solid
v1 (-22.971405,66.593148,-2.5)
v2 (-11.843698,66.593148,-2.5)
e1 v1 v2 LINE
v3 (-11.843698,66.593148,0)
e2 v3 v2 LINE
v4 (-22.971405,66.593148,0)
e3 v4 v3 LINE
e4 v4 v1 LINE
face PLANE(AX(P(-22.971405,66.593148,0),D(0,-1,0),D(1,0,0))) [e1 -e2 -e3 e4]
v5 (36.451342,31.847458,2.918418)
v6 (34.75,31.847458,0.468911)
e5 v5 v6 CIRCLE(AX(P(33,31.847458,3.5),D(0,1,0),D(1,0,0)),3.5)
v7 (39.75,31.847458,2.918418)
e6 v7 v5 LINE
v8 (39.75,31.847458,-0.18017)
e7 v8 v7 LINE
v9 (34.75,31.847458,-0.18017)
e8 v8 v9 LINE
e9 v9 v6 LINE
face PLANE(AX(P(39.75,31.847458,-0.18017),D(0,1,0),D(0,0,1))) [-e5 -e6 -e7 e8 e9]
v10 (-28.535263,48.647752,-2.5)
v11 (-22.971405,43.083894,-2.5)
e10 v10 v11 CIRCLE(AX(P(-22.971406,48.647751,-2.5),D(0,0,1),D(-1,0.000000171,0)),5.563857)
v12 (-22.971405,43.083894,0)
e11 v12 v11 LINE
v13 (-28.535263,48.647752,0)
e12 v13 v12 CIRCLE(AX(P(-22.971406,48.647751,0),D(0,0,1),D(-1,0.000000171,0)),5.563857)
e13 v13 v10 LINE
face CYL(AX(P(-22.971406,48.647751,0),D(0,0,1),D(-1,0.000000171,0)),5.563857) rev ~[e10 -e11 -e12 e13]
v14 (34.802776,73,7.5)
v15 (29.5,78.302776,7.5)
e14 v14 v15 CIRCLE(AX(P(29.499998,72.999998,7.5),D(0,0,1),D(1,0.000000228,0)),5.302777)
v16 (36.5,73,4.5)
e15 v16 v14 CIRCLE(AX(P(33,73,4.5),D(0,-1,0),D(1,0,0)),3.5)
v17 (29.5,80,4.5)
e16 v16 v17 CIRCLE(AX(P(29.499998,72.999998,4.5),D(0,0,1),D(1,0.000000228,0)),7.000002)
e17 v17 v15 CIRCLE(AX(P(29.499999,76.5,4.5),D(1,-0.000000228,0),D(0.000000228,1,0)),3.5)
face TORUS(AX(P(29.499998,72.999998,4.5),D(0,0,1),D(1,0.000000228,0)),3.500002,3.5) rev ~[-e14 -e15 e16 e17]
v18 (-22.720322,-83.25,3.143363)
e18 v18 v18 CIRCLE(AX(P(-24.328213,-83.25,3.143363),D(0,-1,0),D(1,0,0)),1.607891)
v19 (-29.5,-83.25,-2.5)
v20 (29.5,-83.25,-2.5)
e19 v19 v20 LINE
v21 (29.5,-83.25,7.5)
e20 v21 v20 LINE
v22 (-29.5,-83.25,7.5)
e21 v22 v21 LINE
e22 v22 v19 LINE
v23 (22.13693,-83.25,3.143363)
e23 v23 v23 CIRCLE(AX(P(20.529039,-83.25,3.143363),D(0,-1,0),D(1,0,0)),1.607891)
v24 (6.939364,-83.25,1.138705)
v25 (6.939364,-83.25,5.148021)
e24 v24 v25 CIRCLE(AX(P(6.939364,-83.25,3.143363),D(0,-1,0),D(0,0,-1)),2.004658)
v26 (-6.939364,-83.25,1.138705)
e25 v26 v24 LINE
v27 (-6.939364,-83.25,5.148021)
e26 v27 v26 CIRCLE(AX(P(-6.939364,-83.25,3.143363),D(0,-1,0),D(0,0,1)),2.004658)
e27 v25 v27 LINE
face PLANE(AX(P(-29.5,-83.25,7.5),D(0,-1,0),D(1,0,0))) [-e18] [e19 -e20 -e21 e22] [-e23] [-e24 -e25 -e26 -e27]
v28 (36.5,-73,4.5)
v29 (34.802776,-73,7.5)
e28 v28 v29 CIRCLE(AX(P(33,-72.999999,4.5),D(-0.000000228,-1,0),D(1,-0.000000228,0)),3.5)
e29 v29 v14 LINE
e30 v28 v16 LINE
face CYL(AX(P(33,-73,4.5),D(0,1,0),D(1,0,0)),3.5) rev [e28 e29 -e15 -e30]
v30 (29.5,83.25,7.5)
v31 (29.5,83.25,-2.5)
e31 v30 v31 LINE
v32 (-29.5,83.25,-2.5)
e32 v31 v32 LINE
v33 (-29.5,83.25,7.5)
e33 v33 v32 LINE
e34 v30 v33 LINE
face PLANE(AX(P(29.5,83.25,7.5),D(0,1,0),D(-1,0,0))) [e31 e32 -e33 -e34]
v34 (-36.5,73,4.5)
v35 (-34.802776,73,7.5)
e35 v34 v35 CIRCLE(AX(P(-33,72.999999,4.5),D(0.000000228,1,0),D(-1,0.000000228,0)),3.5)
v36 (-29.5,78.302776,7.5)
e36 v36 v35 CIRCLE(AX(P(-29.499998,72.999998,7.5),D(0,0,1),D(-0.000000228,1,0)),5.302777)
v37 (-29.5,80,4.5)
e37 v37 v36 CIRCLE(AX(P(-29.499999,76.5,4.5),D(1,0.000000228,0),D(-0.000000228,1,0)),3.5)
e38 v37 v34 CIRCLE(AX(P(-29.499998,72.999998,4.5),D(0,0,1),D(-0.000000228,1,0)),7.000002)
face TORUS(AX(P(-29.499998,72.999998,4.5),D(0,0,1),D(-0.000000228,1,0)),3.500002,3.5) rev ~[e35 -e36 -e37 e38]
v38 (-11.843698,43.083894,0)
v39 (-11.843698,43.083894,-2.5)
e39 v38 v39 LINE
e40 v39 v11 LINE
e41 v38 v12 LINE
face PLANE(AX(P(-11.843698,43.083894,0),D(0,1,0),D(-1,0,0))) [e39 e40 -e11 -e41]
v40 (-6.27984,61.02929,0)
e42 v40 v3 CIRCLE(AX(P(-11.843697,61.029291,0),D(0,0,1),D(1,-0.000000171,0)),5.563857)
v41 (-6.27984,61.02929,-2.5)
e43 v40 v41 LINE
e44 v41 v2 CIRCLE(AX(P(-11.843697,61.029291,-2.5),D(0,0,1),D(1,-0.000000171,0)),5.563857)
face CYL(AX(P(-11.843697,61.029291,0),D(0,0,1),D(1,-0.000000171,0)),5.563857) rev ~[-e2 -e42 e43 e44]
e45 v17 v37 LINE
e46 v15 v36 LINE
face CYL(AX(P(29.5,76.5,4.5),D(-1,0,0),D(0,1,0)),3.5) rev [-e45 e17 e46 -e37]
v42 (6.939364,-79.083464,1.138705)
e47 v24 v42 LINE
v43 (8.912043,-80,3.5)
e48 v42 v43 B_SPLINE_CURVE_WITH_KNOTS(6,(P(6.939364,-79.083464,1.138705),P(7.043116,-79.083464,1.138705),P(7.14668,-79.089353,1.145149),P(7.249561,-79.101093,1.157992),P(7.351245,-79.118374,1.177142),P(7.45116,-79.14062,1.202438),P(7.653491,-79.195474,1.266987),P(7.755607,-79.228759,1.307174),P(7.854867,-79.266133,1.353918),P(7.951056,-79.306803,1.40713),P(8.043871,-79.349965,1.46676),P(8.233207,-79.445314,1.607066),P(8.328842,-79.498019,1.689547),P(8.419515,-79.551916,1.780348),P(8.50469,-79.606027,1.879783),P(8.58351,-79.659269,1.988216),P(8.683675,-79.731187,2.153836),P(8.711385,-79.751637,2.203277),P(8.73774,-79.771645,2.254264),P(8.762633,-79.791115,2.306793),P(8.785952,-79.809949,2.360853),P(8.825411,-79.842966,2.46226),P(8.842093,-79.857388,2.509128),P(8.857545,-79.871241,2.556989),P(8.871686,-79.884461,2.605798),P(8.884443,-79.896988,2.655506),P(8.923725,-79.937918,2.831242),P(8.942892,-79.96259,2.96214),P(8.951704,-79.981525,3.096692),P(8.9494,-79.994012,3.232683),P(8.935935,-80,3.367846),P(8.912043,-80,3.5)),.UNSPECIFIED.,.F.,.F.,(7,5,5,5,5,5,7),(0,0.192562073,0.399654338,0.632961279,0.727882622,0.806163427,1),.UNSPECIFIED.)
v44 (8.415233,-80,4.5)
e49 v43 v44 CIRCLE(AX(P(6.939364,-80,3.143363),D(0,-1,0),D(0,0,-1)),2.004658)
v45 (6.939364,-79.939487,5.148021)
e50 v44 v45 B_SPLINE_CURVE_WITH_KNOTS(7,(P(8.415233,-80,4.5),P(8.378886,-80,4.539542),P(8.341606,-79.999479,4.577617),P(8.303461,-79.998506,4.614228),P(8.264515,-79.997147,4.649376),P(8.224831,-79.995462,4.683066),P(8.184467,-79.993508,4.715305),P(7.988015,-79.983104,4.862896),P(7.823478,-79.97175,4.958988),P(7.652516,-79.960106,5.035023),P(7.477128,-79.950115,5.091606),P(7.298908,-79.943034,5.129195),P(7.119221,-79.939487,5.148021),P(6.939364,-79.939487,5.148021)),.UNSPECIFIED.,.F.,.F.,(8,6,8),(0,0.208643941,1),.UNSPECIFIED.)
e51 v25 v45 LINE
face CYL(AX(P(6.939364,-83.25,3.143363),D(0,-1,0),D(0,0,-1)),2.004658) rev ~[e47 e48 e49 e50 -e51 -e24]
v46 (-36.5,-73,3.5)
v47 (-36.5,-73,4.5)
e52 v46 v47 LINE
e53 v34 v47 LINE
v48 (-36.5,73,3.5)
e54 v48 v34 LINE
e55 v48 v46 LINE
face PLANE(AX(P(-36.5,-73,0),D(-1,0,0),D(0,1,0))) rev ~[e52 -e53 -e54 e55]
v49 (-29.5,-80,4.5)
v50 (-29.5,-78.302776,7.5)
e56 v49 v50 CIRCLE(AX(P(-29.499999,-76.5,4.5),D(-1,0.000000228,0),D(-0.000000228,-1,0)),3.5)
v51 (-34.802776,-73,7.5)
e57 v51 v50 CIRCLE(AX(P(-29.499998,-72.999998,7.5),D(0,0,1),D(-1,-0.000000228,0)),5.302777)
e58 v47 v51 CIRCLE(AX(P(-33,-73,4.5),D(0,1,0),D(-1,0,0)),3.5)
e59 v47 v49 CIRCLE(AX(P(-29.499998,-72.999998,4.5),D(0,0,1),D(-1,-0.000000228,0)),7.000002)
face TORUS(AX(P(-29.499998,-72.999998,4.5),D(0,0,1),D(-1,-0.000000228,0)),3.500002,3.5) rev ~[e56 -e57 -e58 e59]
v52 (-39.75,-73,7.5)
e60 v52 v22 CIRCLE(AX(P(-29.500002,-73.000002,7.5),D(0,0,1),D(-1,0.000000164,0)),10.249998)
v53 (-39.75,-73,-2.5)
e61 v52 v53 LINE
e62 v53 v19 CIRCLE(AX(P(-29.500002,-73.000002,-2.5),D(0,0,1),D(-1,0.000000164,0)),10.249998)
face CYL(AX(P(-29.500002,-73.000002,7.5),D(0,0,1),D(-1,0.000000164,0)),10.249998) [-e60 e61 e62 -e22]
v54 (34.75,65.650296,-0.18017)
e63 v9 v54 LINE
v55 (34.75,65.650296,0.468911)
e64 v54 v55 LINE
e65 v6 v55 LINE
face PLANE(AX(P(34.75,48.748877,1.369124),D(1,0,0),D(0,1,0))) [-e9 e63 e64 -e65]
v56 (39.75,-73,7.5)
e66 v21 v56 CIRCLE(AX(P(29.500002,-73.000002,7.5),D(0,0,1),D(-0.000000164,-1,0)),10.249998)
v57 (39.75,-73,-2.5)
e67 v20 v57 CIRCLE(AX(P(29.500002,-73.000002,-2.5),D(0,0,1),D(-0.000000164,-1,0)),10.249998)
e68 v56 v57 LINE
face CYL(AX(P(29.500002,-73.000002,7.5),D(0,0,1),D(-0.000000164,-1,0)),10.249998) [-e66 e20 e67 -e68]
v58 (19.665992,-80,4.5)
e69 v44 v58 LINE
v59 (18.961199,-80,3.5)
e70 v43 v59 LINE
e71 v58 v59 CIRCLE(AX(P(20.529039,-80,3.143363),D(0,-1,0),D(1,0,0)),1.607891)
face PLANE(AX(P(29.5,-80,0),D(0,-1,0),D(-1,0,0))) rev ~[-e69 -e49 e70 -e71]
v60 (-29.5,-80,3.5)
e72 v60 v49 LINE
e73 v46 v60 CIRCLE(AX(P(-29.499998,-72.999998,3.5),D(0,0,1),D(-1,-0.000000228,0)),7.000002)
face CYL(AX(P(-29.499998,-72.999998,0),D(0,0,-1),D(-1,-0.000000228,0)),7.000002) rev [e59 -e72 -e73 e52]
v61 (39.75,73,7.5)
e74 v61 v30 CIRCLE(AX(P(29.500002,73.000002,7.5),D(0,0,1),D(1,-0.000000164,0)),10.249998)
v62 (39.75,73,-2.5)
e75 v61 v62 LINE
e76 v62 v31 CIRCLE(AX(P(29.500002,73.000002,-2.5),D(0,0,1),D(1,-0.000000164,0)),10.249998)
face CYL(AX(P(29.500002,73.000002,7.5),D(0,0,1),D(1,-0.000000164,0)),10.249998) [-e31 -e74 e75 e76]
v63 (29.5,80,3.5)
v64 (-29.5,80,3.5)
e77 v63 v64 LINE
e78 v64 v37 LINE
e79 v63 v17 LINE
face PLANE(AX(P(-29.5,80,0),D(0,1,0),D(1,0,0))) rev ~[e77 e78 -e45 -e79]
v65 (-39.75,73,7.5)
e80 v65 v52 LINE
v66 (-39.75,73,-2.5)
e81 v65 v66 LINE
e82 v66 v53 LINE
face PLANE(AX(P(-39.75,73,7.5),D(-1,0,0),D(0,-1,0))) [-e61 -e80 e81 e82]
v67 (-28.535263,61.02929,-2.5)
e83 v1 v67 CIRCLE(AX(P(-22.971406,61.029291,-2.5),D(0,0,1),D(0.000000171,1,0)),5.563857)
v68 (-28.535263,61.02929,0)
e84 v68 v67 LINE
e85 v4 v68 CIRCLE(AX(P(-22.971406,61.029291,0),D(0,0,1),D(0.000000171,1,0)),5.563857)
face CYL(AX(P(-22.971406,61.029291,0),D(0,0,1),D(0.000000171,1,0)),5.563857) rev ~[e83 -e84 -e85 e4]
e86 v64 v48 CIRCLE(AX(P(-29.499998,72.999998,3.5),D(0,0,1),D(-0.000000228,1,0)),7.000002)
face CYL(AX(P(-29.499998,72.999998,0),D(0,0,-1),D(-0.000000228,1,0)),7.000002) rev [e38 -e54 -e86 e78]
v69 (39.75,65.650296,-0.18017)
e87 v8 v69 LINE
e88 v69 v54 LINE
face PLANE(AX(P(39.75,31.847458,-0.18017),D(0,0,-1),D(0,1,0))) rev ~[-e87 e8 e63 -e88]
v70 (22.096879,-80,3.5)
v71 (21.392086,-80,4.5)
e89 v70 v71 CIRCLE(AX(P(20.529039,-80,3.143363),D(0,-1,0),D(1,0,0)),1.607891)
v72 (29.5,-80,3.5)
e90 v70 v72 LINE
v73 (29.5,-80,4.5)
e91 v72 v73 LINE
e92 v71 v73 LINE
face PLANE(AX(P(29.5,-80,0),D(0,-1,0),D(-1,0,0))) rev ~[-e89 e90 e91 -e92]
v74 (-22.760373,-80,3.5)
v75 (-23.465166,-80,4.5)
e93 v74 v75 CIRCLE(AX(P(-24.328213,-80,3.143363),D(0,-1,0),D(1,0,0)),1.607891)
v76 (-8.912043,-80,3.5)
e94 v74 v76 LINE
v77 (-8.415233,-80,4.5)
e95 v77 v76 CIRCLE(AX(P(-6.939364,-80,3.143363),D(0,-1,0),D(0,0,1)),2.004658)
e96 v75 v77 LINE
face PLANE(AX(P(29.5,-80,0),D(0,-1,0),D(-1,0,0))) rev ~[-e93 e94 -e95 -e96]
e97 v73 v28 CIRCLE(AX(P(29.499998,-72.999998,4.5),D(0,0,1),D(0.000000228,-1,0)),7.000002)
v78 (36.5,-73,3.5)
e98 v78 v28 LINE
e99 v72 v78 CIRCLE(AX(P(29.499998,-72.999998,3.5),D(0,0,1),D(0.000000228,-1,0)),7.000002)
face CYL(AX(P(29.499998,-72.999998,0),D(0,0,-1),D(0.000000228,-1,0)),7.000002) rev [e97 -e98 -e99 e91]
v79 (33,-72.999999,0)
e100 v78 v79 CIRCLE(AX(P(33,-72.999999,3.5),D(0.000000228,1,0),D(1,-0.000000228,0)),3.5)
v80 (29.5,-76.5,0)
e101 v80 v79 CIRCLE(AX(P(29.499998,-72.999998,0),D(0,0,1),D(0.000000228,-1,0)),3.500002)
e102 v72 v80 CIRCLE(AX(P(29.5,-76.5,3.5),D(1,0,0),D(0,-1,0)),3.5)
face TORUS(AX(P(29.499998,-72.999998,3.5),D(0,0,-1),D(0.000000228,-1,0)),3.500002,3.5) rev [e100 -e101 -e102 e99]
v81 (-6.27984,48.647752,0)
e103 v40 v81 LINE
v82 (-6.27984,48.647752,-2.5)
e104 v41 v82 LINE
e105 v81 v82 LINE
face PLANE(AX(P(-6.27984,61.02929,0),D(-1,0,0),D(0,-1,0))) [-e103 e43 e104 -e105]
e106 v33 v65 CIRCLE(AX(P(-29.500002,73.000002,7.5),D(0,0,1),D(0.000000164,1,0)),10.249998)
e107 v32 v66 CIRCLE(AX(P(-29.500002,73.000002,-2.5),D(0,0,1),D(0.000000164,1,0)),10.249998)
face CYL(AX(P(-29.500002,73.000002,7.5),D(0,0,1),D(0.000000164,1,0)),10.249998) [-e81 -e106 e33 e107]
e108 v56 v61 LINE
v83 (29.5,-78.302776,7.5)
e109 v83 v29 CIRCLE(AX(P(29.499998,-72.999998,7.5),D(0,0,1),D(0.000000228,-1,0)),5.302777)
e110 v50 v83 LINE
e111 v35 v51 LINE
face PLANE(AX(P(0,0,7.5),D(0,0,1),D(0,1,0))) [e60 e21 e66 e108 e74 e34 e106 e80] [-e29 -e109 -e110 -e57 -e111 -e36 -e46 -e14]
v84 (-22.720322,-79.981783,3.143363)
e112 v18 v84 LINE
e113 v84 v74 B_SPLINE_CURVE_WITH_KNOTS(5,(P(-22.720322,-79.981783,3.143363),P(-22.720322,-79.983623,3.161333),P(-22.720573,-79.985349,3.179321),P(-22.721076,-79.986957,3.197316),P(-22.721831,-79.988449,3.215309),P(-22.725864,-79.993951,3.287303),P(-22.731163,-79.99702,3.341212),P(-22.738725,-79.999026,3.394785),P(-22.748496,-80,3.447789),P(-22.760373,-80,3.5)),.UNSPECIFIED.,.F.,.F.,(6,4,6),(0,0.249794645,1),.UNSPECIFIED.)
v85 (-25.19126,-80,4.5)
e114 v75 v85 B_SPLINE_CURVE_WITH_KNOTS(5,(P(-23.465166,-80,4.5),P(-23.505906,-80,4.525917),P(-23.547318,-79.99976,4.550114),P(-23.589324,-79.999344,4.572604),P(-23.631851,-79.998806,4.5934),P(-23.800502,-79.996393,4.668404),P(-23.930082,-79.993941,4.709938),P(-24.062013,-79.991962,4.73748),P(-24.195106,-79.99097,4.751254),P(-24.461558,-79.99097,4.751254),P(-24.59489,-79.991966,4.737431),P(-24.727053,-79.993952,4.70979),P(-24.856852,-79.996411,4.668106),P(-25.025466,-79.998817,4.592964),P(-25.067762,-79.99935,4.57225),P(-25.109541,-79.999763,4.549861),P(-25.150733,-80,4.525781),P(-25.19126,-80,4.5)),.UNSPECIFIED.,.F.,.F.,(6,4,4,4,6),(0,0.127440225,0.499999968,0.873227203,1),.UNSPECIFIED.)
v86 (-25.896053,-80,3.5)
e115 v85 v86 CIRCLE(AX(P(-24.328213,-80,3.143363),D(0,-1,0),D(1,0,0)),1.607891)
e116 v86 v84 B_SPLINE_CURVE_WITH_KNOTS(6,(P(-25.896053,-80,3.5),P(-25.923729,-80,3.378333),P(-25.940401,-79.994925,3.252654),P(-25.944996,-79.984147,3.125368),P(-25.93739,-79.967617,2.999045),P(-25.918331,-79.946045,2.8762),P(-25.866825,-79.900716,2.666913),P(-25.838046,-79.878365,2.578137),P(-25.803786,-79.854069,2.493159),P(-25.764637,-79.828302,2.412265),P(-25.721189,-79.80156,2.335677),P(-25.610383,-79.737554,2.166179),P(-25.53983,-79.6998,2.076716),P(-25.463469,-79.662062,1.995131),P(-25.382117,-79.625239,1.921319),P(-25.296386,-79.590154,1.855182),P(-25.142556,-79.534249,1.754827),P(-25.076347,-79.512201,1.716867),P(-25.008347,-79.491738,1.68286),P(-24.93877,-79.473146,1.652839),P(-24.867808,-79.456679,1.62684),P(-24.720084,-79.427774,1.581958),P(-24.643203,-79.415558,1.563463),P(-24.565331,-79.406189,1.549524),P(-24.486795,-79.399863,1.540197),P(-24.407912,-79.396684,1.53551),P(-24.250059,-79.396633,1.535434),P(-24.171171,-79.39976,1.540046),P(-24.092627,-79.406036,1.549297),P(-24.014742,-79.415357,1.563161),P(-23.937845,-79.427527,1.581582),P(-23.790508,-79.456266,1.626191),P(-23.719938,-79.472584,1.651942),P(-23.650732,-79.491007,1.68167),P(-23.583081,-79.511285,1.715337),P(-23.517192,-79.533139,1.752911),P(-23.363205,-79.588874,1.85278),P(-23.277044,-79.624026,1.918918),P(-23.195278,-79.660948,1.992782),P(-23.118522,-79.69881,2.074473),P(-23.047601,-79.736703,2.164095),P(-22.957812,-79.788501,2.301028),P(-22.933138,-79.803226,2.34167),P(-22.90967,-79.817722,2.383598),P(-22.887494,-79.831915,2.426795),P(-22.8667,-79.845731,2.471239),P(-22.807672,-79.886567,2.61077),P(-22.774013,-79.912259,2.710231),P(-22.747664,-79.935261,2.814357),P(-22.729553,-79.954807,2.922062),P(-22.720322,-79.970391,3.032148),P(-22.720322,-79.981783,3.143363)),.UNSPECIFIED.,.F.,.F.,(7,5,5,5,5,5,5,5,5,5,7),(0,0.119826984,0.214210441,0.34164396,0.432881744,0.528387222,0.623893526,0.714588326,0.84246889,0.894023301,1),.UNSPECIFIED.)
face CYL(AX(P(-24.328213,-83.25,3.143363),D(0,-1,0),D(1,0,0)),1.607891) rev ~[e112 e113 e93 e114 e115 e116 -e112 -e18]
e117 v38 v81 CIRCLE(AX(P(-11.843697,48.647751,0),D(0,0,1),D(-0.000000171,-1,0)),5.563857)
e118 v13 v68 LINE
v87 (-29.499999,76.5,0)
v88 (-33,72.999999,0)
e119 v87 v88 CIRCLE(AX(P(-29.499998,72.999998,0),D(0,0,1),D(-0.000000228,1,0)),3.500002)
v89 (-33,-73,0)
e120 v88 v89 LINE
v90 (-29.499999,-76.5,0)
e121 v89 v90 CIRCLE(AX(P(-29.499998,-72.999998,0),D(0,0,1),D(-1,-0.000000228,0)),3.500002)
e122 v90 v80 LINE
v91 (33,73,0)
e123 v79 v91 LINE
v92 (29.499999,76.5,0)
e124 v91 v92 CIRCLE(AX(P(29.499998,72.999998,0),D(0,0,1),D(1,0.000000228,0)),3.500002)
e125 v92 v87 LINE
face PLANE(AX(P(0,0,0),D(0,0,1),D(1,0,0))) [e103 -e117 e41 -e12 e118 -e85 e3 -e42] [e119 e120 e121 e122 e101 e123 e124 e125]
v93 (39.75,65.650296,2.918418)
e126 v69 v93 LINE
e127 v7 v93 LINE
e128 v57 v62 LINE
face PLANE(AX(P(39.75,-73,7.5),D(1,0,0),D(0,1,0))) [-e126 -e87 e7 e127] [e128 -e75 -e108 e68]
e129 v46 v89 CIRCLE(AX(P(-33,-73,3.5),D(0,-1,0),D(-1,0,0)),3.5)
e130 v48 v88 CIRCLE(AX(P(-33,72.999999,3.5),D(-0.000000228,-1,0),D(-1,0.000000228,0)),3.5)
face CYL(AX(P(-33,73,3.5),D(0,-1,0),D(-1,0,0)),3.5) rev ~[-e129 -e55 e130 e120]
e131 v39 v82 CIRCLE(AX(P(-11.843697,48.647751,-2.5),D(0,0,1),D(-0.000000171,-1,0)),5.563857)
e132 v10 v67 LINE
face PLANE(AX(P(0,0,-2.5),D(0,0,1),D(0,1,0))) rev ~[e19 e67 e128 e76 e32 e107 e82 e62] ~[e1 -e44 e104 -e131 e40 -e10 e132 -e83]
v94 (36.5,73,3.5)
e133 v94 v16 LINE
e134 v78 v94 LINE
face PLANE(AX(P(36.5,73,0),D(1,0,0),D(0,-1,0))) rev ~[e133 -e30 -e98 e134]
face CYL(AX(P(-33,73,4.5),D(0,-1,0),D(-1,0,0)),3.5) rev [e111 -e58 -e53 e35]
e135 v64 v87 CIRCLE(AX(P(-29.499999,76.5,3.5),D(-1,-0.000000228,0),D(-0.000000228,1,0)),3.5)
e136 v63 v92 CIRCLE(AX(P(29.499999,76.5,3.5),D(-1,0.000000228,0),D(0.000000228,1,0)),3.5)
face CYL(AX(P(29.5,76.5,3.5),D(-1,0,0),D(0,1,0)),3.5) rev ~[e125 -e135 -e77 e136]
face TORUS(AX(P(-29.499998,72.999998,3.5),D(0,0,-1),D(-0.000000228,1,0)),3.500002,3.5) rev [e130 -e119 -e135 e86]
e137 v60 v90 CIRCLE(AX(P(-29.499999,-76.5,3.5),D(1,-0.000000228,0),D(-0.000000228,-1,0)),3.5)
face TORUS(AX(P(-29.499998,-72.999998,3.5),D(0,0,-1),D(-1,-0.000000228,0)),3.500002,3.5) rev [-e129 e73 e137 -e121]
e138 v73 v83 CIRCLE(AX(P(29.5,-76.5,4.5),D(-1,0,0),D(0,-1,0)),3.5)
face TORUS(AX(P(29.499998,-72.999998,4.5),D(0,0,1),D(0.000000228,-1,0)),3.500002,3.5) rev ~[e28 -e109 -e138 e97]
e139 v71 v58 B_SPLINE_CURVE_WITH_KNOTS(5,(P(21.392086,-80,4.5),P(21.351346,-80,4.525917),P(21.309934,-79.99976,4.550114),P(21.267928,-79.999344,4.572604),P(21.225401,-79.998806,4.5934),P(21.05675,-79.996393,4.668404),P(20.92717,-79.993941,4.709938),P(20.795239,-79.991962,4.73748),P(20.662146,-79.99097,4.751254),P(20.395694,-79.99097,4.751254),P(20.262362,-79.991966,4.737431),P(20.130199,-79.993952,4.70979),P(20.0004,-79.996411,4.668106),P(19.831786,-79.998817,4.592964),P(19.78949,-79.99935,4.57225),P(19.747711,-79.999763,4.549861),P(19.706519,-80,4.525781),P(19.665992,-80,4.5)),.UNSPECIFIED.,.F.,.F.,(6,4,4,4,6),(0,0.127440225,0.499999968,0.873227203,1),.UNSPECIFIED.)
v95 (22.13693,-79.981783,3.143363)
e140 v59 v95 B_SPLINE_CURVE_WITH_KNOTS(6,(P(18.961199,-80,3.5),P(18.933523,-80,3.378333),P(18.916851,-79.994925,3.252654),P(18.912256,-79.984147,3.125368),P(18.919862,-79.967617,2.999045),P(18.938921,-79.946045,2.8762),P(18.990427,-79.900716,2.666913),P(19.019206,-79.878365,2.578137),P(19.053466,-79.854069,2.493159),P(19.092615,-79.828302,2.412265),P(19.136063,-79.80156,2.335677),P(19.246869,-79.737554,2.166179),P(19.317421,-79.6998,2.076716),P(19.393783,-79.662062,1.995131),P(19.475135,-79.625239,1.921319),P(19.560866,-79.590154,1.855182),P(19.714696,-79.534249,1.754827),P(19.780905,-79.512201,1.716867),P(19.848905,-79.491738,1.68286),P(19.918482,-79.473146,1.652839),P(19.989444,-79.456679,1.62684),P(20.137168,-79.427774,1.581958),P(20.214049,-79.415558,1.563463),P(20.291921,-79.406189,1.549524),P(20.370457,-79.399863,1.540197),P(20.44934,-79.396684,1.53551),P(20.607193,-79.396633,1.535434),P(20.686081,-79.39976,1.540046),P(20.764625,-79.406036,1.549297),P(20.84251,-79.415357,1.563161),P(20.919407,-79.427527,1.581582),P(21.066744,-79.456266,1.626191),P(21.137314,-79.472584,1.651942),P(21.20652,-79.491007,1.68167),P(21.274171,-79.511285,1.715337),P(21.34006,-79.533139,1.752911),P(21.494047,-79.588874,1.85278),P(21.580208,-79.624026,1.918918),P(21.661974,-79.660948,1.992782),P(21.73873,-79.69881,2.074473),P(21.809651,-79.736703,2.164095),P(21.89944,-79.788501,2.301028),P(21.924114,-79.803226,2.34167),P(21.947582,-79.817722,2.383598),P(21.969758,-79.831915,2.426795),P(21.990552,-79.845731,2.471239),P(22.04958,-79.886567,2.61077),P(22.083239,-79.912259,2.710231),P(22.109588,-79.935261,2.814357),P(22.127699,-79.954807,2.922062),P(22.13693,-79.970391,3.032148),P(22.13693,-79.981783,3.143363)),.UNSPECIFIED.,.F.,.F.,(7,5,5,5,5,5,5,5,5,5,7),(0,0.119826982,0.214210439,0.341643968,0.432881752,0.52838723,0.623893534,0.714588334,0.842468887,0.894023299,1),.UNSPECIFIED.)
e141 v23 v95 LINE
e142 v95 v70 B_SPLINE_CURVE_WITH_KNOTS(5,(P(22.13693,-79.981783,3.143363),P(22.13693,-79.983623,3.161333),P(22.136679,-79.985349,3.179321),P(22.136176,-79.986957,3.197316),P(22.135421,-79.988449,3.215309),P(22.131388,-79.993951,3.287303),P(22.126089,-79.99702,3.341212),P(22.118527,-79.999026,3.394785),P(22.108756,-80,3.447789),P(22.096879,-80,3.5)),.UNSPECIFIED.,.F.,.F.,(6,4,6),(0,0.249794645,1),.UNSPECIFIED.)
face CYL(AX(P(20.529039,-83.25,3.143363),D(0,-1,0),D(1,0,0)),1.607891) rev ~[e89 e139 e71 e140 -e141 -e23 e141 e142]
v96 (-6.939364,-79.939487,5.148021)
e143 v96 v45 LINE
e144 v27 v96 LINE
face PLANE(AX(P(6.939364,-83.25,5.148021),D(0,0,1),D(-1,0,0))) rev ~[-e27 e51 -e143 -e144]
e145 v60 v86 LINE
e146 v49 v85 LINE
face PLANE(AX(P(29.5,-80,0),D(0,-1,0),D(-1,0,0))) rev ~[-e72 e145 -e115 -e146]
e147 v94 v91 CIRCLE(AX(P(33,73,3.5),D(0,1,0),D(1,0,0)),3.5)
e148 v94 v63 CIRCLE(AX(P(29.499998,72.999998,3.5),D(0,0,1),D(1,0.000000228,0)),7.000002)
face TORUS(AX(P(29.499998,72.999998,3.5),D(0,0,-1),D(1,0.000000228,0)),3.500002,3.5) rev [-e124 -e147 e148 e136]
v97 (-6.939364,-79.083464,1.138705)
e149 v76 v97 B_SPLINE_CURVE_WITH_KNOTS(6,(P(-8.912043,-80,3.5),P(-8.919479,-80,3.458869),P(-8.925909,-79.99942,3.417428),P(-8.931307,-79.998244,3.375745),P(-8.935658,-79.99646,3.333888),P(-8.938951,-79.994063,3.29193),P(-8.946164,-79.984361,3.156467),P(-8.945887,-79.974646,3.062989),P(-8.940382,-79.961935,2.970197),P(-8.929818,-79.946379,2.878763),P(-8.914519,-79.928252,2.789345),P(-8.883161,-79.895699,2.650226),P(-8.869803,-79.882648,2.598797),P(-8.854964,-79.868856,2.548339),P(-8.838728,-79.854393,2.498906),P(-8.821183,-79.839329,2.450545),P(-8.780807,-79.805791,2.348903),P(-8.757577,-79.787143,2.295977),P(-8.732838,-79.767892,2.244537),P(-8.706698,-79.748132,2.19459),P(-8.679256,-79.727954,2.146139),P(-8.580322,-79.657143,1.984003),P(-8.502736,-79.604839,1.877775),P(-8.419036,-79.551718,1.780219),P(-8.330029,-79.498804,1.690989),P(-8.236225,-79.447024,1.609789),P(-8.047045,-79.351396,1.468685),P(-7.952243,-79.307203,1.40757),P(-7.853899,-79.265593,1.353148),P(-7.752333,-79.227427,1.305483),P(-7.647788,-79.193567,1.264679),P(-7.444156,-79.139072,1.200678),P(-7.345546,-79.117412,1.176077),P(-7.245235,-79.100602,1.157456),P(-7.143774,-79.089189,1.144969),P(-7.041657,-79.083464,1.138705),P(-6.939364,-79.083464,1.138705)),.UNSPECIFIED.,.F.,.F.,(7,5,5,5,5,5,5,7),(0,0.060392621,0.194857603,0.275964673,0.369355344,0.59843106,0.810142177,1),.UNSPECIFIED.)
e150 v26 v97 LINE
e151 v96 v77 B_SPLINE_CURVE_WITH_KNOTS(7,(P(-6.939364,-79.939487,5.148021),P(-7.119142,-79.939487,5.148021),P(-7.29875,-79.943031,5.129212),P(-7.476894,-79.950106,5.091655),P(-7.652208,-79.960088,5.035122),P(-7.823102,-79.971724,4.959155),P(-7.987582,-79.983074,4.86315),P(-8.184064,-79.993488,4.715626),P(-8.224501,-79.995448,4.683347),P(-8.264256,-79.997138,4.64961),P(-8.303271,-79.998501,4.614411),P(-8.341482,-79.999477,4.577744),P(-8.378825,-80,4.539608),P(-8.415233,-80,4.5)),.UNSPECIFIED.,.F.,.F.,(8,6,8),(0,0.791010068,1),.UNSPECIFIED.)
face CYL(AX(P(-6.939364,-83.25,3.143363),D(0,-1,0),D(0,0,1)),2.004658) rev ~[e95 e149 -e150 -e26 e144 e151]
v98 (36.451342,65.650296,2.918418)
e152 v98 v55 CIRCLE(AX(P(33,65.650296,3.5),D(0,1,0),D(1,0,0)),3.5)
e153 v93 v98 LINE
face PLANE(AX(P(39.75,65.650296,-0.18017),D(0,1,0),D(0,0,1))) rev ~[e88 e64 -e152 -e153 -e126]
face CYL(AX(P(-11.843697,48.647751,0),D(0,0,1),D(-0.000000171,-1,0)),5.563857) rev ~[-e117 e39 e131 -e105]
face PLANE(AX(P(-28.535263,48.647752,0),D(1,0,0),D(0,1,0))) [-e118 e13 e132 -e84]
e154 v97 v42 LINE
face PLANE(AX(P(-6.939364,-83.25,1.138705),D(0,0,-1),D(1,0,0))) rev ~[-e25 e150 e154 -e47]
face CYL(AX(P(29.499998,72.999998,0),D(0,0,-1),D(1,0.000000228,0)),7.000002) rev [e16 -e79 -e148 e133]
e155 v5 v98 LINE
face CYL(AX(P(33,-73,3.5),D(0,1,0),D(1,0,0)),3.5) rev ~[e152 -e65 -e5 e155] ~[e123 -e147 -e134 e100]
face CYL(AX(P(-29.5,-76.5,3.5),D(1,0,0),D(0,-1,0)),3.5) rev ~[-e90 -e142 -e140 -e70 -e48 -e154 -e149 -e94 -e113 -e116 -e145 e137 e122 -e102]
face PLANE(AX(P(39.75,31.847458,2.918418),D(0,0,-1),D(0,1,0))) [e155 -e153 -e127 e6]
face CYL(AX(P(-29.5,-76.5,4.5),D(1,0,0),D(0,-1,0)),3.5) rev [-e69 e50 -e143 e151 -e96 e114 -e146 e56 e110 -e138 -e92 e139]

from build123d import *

# Parameters (mm, degrees)
PAD_DEPTH       = 8
FILLET_R        = 3.5
PAD001_DEPTH    = 2.5
PAD002_DEPTH    = 10
SKETCH002_R     = 1.607891
POCKET_DEPTH    = 5
POCKET001_DEPTH = 2.501
SKETCH004_W     = 33.802838
SKETCH004_H     = 3.098588
POCKET002_DEPTH = 5


with BuildPart() as blankbody:
    # Sketch → Pad (new body)
    with BuildSketch(Plane.XY):
        with BuildLine():
            ThreePointArc((-29.5, 80), (-34.449747, 77.949747), (-36.5, 73))
            Line((-36.5, -73), (-36.5, 73))
            ThreePointArc((-36.5, -73), (-34.449747, -77.949747), (-29.5, -80))
            Line((29.5, -80), (-29.5, -80))
            ThreePointArc((29.5, -80), (34.449747, -77.949747), (36.5, -73))
            Line((36.5, 73), (36.5, -73))
            ThreePointArc((36.5, 73), (34.449747, 77.949747), (29.5, 80))
            Line((-29.5, 80), (29.5, 80))
        make_face()
    extrude(amount=PAD_DEPTH)

    # Fillet
    fillet_edges = [blankbody.edges().sort_by_distance(p)[0] for p in [
        (-34.449747, 77.949747, 8),
        (-36.5, 0, 8),
        (-34.449747, -77.949747, 8),
        (0, -80, 8),
        (34.449747, -77.949747, 8),
        (36.5, 0, 8),
        (34.449747, 77.949747, 8),
        (0, 80, 8),
        (-34.449747, 77.949747, 0),
        (-36.5, 0, 0),
        (-34.449747, -77.949747, 0),
        (0, -80, 0),
        (34.449747, -77.949747, 0),
        (36.5, 0, 0),
        (34.449747, 77.949747, 0),
        (0, 80, 0),
    ]]
    fillet(fillet_edges, radius=FILLET_R)

    # Sketch001 (on Face11 of Fillet) → Pad001 (join, symmetric)
    with BuildSketch(Plane.XY.offset(8)):
        with BuildLine():
            ThreePointArc((-29.5, 78.25), (-33.212311, 76.712311), (-34.75, 73))
            Line((-34.75, -73), (-34.75, 73))
            ThreePointArc((-34.75, -73), (-33.212311, -76.712311), (-29.5, -78.25))
            Line((29.5, -78.25), (-29.5, -78.25))
            ThreePointArc((29.5, -78.25), (33.212311, -76.712311), (34.75, -73))
            Line((34.75, 73), (34.75, -73))
            ThreePointArc((34.75, 73), (33.212311, 76.712311), (29.5, 78.25))
            Line((-29.5, 78.25), (29.5, 78.25))
        make_face()
    extrude(amount=PAD001_DEPTH, both=True)


with BuildPart() as casebody:
    # Binder → Pad002 (new body)
    with BuildSketch(Plane(origin=(0, 0, 7.5), x_dir=(0, 1, 0), z_dir=(0, 0, 1))):
        with BuildLine():
            ThreePointArc((83.25, 29.5), (80.247845, 36.747845), (73, 39.75))
            Line((73, 39.75), (-73, 39.75))
            ThreePointArc((-73, 39.75), (-80.247845, 36.747845), (-83.25, 29.5))
            Line((-83.25, 29.5), (-83.25, -29.5))
            ThreePointArc((-83.25, -29.5), (-80.247845, -36.747845), (-73, -39.75))
            Line((-73, -39.75), (73, -39.75))
            ThreePointArc((73, -39.75), (80.247845, -36.747845), (83.25, -29.5))
            Line((83.25, -29.5), (83.25, 29.5))
        make_face()
    extrude(amount=-PAD002_DEPTH)

    # Boolean: cut BlankBody
    add(blankbody.part, mode=Mode.SUBTRACT)

    # Sketch002 (on Face9 of Boolean) → Pocket (cut)
    with BuildSketch(Plane.XZ.offset(83.25)):
        with Locations((-24.328213, 3.143363)):
            Circle(SKETCH002_R)
        with Locations((20.529039, 3.143363)):
            Circle(SKETCH002_R)
        with BuildLine():
            ThreePointArc((-6.939364, 5.148021), (-8.944022, 3.143363), (-6.939364, 1.138705))
            Line((-6.939364, 1.138705), (6.939364, 1.138705))
            ThreePointArc((6.939364, 1.138705), (8.944022, 3.143363), (6.939364, 5.148021))
            Line((6.939364, 5.148021), (-6.939364, 5.148021))
        make_face()
    extrude(amount=-POCKET_DEPTH, mode=Mode.SUBTRACT)

    # Sketch003 (on Face44 of Pocket) → Pocket001 (cut, through all)
    with BuildSketch(Plane.XY):
        with BuildLine():
            ThreePointArc((-22.971405, 66.593148), (-26.905647, 64.963532), (-28.535263, 61.02929))
            Line((-28.535263, 48.647752), (-28.535263, 61.02929))
            ThreePointArc((-28.535263, 48.647752), (-26.905647, 44.71351), (-22.971405, 43.083894))
            Line((-11.843698, 43.083894), (-22.971405, 43.083894))
            ThreePointArc((-11.843698, 43.083894), (-7.909456, 44.71351), (-6.27984, 48.647752))
            Line((-6.27984, 61.02929), (-6.27984, 48.647752))
            ThreePointArc((-6.27984, 61.02929), (-7.909456, 64.963532), (-11.843698, 66.593148))
            Line((-22.971405, 66.593148), (-11.843698, 66.593148))
        make_face()
    extrude(amount=-POCKET001_DEPTH, mode=Mode.SUBTRACT)

    # Sketch004 (on Face8 of Pocket001) → Pocket002 (cut)
    with BuildSketch(Plane.YZ.offset(39.75)):
        with Locations((48.748877, 1.369124)):
            Rectangle(SKETCH004_W, SKETCH004_H)
    extrude(amount=-POCKET002_DEPTH, mode=Mode.SUBTRACT)


solid = casebody.part
